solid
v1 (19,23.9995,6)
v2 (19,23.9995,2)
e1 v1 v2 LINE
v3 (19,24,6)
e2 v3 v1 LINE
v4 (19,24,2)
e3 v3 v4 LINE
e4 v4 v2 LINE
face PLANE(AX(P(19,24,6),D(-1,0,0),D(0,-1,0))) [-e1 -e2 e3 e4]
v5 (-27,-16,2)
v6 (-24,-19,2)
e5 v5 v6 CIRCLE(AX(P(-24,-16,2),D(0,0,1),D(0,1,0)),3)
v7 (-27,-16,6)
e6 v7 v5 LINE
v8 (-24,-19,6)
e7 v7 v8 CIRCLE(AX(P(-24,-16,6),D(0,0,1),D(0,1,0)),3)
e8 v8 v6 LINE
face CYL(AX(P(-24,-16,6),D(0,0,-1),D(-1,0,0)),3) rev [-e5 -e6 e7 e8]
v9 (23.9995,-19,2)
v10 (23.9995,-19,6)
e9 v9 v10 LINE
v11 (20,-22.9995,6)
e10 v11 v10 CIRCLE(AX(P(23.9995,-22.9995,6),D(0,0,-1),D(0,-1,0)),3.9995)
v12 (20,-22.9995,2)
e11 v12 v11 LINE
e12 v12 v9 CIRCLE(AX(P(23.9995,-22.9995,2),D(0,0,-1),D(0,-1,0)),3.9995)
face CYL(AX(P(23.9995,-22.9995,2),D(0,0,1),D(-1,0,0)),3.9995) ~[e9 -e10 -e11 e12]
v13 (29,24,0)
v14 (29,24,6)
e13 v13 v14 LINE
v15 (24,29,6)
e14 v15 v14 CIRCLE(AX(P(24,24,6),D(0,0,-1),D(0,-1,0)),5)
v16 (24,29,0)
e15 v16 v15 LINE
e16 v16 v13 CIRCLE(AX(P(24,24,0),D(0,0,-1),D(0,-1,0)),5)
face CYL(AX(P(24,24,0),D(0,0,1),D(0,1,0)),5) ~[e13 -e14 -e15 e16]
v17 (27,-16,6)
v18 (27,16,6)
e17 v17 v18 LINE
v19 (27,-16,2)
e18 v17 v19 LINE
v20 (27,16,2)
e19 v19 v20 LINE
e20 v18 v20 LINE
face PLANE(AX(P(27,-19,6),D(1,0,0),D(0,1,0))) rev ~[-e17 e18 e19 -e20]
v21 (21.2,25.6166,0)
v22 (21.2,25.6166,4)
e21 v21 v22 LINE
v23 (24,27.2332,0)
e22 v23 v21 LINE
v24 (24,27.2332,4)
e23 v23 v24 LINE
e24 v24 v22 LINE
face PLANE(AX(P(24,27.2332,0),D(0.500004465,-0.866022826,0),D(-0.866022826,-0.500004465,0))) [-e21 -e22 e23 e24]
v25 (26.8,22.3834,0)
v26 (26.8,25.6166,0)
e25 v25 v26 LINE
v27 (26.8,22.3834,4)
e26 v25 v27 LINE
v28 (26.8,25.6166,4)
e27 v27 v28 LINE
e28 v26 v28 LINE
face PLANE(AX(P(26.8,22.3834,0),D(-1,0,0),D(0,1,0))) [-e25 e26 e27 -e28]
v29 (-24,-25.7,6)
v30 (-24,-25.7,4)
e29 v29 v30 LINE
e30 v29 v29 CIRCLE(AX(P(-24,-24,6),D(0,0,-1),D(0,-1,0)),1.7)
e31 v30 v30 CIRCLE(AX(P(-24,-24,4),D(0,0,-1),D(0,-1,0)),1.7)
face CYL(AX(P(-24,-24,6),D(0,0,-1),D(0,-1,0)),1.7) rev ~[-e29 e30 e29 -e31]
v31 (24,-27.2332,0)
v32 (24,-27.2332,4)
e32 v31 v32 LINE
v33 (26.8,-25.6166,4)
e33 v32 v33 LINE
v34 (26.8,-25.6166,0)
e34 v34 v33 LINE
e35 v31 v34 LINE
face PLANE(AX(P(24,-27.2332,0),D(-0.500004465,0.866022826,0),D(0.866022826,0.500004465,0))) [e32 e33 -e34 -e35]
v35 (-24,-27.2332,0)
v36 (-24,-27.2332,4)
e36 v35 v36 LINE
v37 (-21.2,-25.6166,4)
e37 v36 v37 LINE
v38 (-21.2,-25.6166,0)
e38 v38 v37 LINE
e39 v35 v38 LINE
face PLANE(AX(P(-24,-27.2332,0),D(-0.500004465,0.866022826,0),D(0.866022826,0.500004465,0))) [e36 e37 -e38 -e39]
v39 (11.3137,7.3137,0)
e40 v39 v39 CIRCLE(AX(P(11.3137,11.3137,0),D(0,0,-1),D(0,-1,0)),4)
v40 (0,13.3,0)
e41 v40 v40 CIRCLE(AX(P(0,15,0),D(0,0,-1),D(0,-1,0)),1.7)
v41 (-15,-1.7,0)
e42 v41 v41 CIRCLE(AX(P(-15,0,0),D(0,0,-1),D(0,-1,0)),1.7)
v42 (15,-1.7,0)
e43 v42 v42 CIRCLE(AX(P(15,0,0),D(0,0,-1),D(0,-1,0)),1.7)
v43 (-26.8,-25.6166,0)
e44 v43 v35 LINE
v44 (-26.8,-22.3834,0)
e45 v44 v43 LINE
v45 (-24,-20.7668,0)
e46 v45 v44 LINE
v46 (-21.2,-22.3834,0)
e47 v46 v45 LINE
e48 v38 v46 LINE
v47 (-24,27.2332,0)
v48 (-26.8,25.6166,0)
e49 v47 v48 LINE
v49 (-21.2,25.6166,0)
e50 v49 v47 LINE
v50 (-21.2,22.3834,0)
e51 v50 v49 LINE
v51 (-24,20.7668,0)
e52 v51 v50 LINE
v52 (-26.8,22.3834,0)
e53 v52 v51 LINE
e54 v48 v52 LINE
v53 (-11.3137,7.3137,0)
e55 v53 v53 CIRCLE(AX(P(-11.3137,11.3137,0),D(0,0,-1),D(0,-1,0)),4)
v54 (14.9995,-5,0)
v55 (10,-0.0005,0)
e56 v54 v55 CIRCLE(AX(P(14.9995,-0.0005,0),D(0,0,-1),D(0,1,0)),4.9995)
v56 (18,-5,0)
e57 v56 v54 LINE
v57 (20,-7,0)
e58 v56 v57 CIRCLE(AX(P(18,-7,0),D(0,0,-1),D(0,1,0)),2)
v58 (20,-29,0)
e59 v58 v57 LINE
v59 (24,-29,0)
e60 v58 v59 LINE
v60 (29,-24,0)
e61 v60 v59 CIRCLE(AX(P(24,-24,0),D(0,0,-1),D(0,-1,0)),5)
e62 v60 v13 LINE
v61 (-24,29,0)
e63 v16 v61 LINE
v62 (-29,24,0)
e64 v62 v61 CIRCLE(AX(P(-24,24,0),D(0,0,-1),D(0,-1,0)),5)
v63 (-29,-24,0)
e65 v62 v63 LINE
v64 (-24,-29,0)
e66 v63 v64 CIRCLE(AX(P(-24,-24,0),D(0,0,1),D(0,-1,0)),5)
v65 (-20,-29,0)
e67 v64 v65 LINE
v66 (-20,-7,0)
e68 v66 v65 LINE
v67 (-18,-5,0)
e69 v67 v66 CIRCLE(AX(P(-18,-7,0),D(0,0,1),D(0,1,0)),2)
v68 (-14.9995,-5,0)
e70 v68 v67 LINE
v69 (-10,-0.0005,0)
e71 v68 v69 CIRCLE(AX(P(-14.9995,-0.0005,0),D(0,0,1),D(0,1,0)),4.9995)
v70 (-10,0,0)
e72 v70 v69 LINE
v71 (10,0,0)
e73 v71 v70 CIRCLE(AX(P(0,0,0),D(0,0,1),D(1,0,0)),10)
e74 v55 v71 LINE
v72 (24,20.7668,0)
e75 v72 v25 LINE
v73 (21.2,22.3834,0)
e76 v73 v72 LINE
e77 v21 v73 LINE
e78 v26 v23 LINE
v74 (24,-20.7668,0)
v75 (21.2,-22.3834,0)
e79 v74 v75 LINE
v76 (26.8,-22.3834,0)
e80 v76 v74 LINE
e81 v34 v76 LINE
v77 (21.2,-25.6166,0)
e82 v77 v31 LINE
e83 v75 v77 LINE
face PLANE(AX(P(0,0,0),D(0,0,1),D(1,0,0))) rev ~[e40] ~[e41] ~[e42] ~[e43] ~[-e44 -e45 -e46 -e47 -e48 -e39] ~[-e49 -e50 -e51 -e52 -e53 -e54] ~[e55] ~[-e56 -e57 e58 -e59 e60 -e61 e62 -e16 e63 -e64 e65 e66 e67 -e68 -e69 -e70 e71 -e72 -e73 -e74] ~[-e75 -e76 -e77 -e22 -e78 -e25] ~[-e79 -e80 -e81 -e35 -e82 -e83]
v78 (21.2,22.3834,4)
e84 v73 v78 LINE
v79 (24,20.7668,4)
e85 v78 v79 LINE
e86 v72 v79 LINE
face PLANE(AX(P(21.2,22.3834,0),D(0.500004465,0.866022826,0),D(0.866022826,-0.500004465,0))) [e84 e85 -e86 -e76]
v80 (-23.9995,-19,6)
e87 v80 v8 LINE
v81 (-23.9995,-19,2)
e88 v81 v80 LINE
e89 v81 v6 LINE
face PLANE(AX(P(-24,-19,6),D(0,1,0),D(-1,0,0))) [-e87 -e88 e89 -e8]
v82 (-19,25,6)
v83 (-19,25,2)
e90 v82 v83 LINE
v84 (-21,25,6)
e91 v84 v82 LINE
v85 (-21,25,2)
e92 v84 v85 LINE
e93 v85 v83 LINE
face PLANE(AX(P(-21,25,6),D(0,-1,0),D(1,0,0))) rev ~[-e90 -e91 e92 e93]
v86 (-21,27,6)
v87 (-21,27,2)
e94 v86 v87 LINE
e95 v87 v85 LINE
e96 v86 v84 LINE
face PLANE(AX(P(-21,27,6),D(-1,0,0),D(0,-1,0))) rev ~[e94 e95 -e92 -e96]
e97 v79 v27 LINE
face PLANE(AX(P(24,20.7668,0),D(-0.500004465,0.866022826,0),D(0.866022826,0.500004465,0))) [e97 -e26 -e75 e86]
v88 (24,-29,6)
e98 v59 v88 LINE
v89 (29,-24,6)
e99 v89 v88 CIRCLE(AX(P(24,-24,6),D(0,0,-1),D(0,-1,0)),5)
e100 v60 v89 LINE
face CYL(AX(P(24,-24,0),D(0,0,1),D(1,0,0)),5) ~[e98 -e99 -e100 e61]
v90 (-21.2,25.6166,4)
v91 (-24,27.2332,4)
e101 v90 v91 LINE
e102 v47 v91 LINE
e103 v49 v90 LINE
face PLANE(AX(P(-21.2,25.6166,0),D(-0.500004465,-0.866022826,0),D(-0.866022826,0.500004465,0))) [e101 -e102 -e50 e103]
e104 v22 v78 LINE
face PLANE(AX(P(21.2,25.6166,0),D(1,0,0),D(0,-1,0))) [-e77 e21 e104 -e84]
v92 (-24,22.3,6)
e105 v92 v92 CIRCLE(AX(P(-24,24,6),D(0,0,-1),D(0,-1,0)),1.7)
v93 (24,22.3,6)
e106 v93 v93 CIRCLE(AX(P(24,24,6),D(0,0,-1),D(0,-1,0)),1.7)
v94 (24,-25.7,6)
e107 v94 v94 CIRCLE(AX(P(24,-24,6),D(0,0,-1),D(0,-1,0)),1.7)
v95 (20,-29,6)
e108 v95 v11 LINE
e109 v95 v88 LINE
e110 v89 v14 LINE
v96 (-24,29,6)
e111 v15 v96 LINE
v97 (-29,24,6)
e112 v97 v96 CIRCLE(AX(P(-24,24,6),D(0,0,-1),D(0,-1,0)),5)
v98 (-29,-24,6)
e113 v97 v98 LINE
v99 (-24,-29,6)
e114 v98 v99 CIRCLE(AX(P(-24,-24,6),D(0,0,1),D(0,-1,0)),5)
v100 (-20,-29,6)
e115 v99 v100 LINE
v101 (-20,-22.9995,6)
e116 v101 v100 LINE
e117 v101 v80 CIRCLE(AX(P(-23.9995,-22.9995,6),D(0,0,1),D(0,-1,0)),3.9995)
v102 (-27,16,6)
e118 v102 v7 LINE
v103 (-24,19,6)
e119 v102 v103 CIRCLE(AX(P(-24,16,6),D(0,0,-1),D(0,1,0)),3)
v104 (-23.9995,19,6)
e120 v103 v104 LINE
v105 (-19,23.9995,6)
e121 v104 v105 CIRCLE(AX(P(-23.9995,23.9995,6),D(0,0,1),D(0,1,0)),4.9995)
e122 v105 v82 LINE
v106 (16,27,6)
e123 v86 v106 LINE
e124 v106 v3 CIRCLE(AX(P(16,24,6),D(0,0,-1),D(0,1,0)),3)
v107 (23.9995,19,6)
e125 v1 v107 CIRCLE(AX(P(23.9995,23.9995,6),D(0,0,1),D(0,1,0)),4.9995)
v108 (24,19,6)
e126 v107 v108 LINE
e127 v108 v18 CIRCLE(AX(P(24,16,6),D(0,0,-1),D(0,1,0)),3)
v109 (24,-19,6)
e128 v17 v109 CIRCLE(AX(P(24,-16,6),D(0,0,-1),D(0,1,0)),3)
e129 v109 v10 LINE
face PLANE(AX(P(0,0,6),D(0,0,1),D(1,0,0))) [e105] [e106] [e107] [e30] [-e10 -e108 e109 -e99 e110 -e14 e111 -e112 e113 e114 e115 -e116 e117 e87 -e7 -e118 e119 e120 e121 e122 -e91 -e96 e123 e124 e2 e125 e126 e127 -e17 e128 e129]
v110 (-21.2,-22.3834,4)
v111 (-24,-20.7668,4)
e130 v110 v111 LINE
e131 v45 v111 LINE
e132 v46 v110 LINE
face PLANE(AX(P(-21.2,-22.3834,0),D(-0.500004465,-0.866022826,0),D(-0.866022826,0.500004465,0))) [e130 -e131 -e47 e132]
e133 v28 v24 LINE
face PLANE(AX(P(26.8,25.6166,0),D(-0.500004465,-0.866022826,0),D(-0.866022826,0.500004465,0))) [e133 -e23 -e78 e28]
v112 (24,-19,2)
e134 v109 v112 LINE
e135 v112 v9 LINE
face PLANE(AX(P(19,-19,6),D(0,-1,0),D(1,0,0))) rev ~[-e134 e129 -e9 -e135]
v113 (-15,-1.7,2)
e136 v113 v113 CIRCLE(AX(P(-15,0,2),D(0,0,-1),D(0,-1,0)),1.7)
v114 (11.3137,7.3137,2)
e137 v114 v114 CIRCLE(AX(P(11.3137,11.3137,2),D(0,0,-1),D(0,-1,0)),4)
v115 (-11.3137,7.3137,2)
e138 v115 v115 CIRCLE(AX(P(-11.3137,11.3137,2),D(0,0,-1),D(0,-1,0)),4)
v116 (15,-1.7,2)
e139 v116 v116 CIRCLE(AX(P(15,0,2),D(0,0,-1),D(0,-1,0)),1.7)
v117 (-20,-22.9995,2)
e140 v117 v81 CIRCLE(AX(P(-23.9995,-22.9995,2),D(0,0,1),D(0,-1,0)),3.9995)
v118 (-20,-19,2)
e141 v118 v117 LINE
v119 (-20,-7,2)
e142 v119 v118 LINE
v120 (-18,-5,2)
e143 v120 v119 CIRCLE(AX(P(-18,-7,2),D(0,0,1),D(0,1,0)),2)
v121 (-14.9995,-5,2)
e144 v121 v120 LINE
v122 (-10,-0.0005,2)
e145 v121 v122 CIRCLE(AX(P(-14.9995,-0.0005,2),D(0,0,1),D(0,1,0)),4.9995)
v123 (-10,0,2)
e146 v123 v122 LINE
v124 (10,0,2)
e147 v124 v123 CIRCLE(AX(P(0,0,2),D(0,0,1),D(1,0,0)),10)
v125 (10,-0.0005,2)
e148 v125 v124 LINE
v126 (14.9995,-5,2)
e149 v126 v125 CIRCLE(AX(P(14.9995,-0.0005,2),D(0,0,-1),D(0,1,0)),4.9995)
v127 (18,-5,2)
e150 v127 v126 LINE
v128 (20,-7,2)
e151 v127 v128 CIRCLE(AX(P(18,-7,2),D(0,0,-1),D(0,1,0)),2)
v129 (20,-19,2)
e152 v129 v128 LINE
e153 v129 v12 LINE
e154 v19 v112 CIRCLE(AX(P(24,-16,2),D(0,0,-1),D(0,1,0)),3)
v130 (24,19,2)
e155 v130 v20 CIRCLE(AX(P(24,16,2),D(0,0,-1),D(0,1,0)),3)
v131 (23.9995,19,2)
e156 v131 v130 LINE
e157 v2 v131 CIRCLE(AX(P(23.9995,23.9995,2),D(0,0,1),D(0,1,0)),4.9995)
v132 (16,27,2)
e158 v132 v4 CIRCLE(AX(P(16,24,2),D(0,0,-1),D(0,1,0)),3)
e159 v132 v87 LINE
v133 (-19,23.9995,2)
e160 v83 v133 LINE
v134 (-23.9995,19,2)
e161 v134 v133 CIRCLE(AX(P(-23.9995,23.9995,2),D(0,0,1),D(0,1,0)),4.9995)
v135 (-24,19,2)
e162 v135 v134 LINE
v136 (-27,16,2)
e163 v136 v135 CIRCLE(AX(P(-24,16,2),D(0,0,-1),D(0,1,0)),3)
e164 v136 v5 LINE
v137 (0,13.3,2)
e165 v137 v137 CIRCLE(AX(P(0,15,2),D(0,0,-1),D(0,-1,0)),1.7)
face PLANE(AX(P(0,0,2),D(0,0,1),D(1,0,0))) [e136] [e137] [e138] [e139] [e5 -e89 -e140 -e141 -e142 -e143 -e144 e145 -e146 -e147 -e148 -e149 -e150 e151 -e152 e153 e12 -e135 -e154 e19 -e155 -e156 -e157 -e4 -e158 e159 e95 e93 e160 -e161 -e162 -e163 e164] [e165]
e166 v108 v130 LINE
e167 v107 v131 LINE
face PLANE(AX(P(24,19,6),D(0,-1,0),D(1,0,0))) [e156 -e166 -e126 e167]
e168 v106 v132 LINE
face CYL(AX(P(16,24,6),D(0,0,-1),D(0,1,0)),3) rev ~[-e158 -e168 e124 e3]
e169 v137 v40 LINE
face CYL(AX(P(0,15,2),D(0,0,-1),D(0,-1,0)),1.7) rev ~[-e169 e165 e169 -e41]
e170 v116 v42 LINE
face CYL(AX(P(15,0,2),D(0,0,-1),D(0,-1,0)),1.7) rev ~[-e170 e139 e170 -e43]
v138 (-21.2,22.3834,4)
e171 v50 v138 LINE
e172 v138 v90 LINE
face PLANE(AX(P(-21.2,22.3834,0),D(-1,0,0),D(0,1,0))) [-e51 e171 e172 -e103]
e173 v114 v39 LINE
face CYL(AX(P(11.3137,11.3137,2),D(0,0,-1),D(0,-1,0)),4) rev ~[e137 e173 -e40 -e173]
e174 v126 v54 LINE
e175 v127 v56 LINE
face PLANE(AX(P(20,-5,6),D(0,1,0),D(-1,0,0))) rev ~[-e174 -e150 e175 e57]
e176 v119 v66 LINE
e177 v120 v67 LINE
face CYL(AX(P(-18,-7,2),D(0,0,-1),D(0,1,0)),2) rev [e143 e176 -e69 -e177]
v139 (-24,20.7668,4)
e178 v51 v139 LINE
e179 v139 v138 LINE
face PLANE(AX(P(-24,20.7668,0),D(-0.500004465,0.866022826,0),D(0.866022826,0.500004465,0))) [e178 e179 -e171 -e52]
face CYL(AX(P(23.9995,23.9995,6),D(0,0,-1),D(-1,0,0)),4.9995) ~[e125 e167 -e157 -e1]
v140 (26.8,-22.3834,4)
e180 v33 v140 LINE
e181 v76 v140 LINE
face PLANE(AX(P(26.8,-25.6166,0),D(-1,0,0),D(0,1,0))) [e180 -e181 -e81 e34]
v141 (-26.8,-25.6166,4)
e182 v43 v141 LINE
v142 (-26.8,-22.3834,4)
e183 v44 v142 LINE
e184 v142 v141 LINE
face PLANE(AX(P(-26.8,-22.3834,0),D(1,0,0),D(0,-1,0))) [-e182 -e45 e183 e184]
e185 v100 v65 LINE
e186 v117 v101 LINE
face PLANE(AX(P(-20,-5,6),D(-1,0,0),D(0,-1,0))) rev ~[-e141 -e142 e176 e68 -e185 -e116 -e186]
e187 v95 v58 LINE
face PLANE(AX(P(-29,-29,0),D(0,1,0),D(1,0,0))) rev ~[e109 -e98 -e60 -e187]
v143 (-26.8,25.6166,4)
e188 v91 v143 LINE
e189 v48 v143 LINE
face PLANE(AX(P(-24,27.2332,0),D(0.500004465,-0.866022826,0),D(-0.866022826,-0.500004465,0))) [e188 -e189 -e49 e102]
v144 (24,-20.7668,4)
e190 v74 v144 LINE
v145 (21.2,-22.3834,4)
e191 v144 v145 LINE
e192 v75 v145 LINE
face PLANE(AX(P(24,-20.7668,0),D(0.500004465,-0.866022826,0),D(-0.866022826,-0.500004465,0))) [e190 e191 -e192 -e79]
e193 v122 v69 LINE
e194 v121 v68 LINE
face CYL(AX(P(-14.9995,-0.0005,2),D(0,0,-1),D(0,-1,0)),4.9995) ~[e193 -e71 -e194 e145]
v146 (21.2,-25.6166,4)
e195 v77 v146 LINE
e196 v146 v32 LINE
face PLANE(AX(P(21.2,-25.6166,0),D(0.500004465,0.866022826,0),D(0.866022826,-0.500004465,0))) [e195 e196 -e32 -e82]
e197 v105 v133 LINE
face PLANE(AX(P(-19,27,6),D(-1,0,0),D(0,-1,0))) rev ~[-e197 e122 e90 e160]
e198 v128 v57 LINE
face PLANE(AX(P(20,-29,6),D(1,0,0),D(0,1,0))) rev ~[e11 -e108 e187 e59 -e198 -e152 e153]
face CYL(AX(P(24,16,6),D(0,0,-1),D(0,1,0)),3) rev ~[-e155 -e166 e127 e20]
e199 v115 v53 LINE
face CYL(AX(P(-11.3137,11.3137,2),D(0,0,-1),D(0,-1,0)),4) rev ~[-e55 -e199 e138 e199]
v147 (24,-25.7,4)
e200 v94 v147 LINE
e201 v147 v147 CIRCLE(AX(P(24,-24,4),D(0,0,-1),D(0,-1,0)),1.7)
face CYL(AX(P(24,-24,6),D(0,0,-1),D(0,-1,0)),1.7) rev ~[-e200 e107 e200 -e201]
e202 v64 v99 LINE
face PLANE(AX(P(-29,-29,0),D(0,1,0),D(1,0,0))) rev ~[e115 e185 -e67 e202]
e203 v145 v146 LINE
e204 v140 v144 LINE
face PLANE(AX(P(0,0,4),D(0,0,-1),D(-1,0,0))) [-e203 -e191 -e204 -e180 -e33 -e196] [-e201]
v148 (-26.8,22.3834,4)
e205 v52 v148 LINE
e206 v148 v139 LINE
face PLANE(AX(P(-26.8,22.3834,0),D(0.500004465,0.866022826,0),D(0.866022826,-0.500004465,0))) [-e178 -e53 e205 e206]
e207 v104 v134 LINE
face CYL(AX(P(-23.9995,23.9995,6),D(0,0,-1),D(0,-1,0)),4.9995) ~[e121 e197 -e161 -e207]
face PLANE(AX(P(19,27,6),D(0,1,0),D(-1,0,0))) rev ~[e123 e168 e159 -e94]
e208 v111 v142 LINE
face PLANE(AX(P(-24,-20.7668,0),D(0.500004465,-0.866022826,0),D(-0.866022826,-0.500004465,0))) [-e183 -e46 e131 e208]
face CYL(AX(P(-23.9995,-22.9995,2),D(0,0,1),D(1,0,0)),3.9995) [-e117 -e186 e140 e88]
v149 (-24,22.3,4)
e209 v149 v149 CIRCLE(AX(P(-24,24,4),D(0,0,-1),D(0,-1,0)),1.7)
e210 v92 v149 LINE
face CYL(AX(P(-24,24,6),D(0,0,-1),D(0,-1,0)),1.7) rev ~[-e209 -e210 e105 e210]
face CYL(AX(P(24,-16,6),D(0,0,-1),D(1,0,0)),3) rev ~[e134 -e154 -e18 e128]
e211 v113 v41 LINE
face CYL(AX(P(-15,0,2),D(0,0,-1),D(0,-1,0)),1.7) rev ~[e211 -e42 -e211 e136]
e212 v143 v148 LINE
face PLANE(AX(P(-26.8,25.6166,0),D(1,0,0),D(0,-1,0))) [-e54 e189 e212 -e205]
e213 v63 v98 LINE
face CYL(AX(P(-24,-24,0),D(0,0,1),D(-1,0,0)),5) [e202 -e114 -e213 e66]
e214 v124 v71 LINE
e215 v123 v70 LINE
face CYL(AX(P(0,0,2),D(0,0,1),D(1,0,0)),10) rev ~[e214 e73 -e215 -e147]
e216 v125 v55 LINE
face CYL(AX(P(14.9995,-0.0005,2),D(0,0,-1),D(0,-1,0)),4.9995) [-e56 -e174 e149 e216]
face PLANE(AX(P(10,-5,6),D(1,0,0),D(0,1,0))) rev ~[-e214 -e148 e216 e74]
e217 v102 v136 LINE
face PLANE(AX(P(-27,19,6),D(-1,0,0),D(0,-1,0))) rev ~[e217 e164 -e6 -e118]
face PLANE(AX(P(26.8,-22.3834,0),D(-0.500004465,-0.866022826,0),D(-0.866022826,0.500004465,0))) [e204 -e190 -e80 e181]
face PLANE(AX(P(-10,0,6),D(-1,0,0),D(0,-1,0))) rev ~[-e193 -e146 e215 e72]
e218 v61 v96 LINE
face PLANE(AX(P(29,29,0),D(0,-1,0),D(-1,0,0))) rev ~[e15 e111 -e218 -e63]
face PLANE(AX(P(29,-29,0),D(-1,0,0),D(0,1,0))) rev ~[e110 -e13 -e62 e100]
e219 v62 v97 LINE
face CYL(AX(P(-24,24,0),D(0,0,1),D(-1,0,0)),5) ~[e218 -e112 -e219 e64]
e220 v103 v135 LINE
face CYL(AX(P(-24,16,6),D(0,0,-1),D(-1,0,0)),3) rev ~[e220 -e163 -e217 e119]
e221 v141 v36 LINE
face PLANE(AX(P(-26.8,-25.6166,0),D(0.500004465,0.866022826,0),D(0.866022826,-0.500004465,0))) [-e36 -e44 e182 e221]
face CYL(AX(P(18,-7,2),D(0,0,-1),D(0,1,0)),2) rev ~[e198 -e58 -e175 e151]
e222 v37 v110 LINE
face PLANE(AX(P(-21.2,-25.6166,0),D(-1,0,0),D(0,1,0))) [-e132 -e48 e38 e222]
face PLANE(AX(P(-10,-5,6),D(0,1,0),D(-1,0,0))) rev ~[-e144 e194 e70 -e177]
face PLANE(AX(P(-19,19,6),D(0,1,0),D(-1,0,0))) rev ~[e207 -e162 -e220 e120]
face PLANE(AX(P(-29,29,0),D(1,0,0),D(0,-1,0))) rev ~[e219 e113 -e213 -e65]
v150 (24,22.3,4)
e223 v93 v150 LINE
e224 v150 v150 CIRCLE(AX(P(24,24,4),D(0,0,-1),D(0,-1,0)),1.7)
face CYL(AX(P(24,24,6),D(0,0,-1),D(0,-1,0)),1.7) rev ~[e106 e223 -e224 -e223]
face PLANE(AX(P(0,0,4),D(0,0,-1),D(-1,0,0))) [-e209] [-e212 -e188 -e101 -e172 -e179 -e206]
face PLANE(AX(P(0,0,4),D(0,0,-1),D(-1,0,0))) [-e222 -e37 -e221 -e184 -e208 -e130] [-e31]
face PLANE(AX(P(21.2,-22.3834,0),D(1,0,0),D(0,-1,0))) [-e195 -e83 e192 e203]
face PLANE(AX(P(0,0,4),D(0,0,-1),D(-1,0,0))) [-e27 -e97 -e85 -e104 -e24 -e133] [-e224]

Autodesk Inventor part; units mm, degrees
ref_plane "YZ Plane" through (0, 0, 0) normal (1, 0, 0) x (0, 1, 0)
ref_plane "XZ Plane" through (0, 0, 0) normal (0, 1, 0) x (-1, 0, 0)
ref_plane "XY Plane" through (0, 0, 0) normal (0, 0, 1) x (1, 0, 0)
sketch "スケッチ1" plane through (0, 0, 0) normal (0, 0, 1) x (1, 0, 0)
  line L0 (-29, -29) -> (29, -29)
  line L1 (29, -29) -> (29, 29)
  line L2 (29, 29) -> (-29, 29)
  line L3 (-29, 29) -> (-29, -29)
  line L4 (-29, -29) -> (29, 29) construction
  line L5 (29, -29) -> (-29, 29) construction
  point P0 (0, 0)
  dimension "d0" = 58
  dimension "d1" = 58
extrude "押し出し1" add sketch "スケッチ1" along normal blind 6
fillet "フィレット1" radius 5 4 edges at (-29, 29, 3) (29, 29, 3) (29, -29, 3) (-29, -29, 3)
sketch "スケッチ4" plane through (0, 0, 6) normal (0, 0, 1) x (1, 0, 0)
  arc A0 (-29, -24) -> (-24, -29) centre (-24, -24) ccw projected
  line L0 (-24, -29) -> (24, -29) projected
  arc A1 (24, -29) -> (29, -24) centre (24, -24) ccw projected
  line L1 (29, -24) -> (29, 24) projected
  arc A2 (29, 24) -> (24, 29) centre (24, 24) ccw projected
  line L2 (24, 29) -> (-24, 29) projected
  arc A3 (-24, 29) -> (-29, 24) centre (-24, 24) ccw projected
  line L3 (-29, 24) -> (-29, -24) projected
  line L4 (-27, -27) -> (27, -27)
  line L5 (27, -27) -> (27, 27)
  line L6 (27, 27) -> (-27, 27)
  line L7 (-27, 27) -> (-27, -27)
  line L8 (-27, -27) -> (27, 27) construction
  line L9 (27, -27) -> (-27, 27) construction
  line L10 (-24, -24) -> (24, -24) construction
  line L11 (24, -24) -> (24, 24) construction
  line L12 (24, 24) -> (-24, 24) construction
  line L13 (-24, 24) -> (-24, -24) construction
  line L14 (-24, -24) -> (24, 24) construction
  line L15 (24, -24) -> (-24, 24) construction
  line L16 (24, 29) -> (-24, 29) projected
  circle A4 centre (-24, 24) radius 5
  circle A5 centre (24, 24) radius 5
  arc A6 (24, -29) -> (29, -24) centre (24, -24) ccw projected
  circle A7 centre (24, -24) radius 5
  line L17 (-24, -29) -> (24, -29) projected
  circle A8 centre (-24, -24) radius 5
  line L18 (-29, 29) -> (-19, 29)
  line L19 (-19, 29) -> (-19, 19)
  line L20 (-19, 19) -> (-29, 19)
  line L21 (-29, 19) -> (-29, 29)
  line L22 (-29, 29) -> (-19, 19) construction
  line L23 (-19, 29) -> (-29, 19) construction
  line L24 (29, 29) -> (19, 29)
  line L25 (19, 29) -> (19, 19)
  line L26 (19, 19) -> (29, 19)
  line L27 (29, 19) -> (29, 29)
  line L28 (29, 29) -> (19, 19) construction
  line L29 (19, 29) -> (29, 19) construction
  line L30 (29, -29) -> (19, -29)
  line L31 (19, -29) -> (19, -19)
  line L32 (19, -19) -> (29, -19)
  line L33 (29, -19) -> (29, -29)
  line L34 (29, -29) -> (19, -19) construction
  line L35 (19, -29) -> (29, -19) construction
  line L36 (-29, -29) -> (-19, -29)
  line L37 (-19, -29) -> (-19, -19)
  line L38 (-19, -19) -> (-29, -19)
  line L39 (-29, -19) -> (-29, -29)
  line L40 (-29, -29) -> (-19, -19) construction
  line L41 (-19, -29) -> (-29, -19) construction
  point P0 (0, 0)
  point P1 (-20, -27)
  point P2 (20, -27)
  point P3 (27, -20)
  point P4 (27, 20)
  point P5 (20, 27)
  point P6 (-20, 27)
  point P7 (-27, 20)
  point P8 (-27, -20)
  point P9 (-19, -24)
  point P10 (-19, -27)
  point P11 (19, -27)
  point P12 (19, -24)
  point P13 (24, -19)
  point P14 (27, -19)
  point P15 (27, 19)
  point P16 (24, 19)
  point P17 (19, 24)
  point P18 (19, 27)
  point P19 (-19, 27)
  point P20 (-19, 24)
  point P21 (-24, 19)
  point P22 (-27, 19)
  point P23 (-27, -19)
  point P24 (-24, -19)
  dimension "d77" = 54
  dimension "d78" = 54
  dimension "d79" = 48
  dimension "d80" = 48
  dimension "d81" = 10
  dimension "d82" = 10
  dimension "d83" = 10
  dimension "d84" = 10
  dimension "d85" = 10
  dimension "d86" = 10
  dimension "d87" = 10
  dimension "d88" = 10
  dimension "d89" = 10
  dimension "d90" = 10
  dimension "d91" = 10
  dimension "d92" = 10
extrude "押し出し2" cut sketch "スケッチ4" against normal blind 4 contours L7 L20 L19 L6 L25 L26 L5 L32 L31 L4 L37 L38
sketch "スケッチ5" plane through (0, 0, 2) normal (0, 0, 1) x (1, 0, 0)
  circle A0 centre (0, 0) radius 16
  point P0 (-11.3137, 11.3137)
  point P1 (-11.3137, -11.3137)
  point P2 (11.3137, -11.3137)
  point P3 (11.3137, 11.3137)
  dimension "d18" = 32
  dimension "d21" = 360
  dimension "d58" = 0
hole "穴2" at (-11.3137, 11.3137, 2) at (-11.3137, -11.3137, 2) at (11.3137, -11.3137, 2) at (11.3137, 11.3137, 2) direction (0, 0, -1) diameter 4.5 depth 11.8 tip angle 118 counterbore diameter 8 counterbore depth 4 clearance for "Socket Head Cap Screw" size "M4" standard "Ansi Metric M Profile"
sketch "スケッチ6" plane through (0, 0, 2) normal (0, 0, 1) x (1, 0, 0)
  circle A0 centre (0, 0) radius 15
  point P0 (0, 15)
  point P1 (-15, 0)
  point P2 (0, -15)
  point P3 (15, 0)
  dimension "d30" = 30
  dimension "d33" = 360
  dimension "d59" = 0
hole "穴3" at (15, 0, 2) at (0, 15, 2) at (-15, 0, 2) direction (0, 0, -1) diameter 3.4 depth 11.8 tip angle 118 clearance for "Socket Head Cap Screw" size "M3" standard "Ansi Metric M Profile"
fillet "フィレット5" radius 3 8 edges at (-27, 19, 4) (-19, 27, 4) (19, 27, 4) (27, 19, 4) (27, -19, 4) (19, -27, 4) (-19, -27, 4) (-27, -19, 4)
sketch "スケッチ7" plane through (0, 0, 2) normal (0, 0, 1) x (1, 0, 0)
  circle A0 centre (0, 0) radius 10
  dimension "d42" = 20
extrude "押し出し3" cut sketch "スケッチ7" against normal through all
sketch "スケッチ8" plane through (0, 0, 6) normal (0, 0, 1) x (1, 0, 0)
  line L0 (24, -24) -> (-24, -24)
  line L1 (-24, -24) -> (-24, 24)
  line L2 (-24, 24) -> (24, 24)
  line L3 (24, 24) -> (24, -24)
  line L4 (24, -24) -> (-24, 24) construction
  line L5 (-24, -24) -> (24, 24) construction
  point P0 (0, 0)
  dimension "d45" = 48
  dimension "d46" = 48
hole "穴4" at (-24, 24, 6) at (-24, -24, 6) at (24, -24, 6) at (24, 24, 6) direction (0, 0, -1) diameter 3.4 depth 6 tip angle 118 clearance for "Flat Head Machine Screw" size "M3" standard "Ansi Metric M Profile"
sketch "スケッチ9" plane through (0, 0, 6) normal (0, 0, 1) x (1, 0, 0)
  line L0 (-20, -29) -> (20, -29)
  line L1 (20, -29) -> (20, -5)
  line L2 (20, -5) -> (-20, -5)
  line L3 (-20, -5) -> (-20, -29)
  line L4 (-20, -29) -> (20, -5) construction
  line L5 (20, -29) -> (-20, -5) construction
  line L6 (-24, -29) -> (24, -29) projected
  circle A0 centre (11.3137, -11.3137) radius 4 projected
  line L7 (10, 5) -> (-10, 5)
  line L8 (-10, 5) -> (-10, -5)
  line L9 (-10, -5) -> (10, -5)
  line L10 (10, -5) -> (10, 5)
  line L11 (10, 5) -> (-10, -5) construction
  line L12 (-10, 5) -> (10, -5) construction
  circle A1 centre (0, 0) radius 10 projected
  line L13 (-10, 0) -> (10, 0)
  point P0 (0, -17)
  point P1 (0, -17)
  point P2 (8.6603, -5)
  point P3 (-8.6603, -5)
  point P4 (-15, 0)
  dimension "d54" = 40
  dimension "d64" = 5
extrude "押し出し4" cut sketch "スケッチ9" against normal through all contours L3 L2 A1 L1 L0 | L8 A1 L2 | L2 A1 L10 | L2 A1 | A0
fillet "フィレット7" radius 5 2 edges at (-10, -5, 1) (10, -5, 1)
fillet "フィレット8" radius 2 2 edges at (-20, -5, 1) (20, -5, 1)
sketch "スケッチ11" plane through (0, 0, 0) normal (0, 0, -1) x (-1, 0, 0)
  circle A0 centre (24, 24) radius 1.7 projected
  circle A1 centre (24, -24) radius 1.7 projected
  circle A2 centre (-24, 24) radius 1.7 projected
  circle A3 centre (-24, -24) radius 1.7 projected
  line L0 (26.8, 25.6166) -> (26.8, 22.3834)
  line L1 (26.8, 22.3834) -> (24, 20.7668)
  line L2 (24, 20.7668) -> (21.2, 22.3834)
  line L3 (21.2, 22.3834) -> (21.2, 25.6166)
  line L4 (21.2, 25.6166) -> (24, 27.2332)
  line L5 (24, 27.2332) -> (26.8, 25.6166)
  line L6 (-24, 29) -> (24, 29) projected
  line L7 (21.2, -25.6166) -> (21.2, -22.3834)
  line L8 (21.2, -22.3834) -> (24, -20.7668)
  line L9 (24, -20.7668) -> (26.8, -22.3834)
  line L10 (26.8, -22.3834) -> (26.8, -25.6166)
  line L11 (26.8, -25.6166) -> (24, -27.2332)
  line L12 (24, -27.2332) -> (21.2, -25.6166)
  line L13 (-21.2, 25.6166) -> (-21.2, 22.3834)
  line L14 (-21.2, 22.3834) -> (-24, 20.7668)
  line L15 (-24, 20.7668) -> (-26.8, 22.3834)
  line L16 (-26.8, 22.3834) -> (-26.8, 25.6166)
  line L17 (-26.8, 25.6166) -> (-24, 27.2332)
  line L18 (-24, 27.2332) -> (-21.2, 25.6166)
  line L19 (24, -29) -> (20, -29) projected
  line L20 (-21.2, -22.3834) -> (-21.2, -25.6166)
  line L21 (-21.2, -25.6166) -> (-24, -27.2332)
  line L22 (-24, -27.2332) -> (-26.8, -25.6166)
  line L23 (-26.8, -25.6166) -> (-26.8, -22.3834)
  line L24 (-26.8, -22.3834) -> (-24, -20.7668)
  line L25 (-24, -20.7668) -> (-21.2, -22.3834)
  arc A4 (-29, -24) -> (-24, -29) centre (-24, -24) ccw projected
  line L26 (-20, -29) -> (-24, -29) projected
  line L27 (-29, -24) -> (-24, -29)
  point P0 (0, 0)
  point P1 (-25.8144, -26.1856)
  point P2 (-26.8, -25.2)
  dimension "d31" = 4
  dimension "d67" = 5.6
  dimension "d68" = 30
  dimension "d69" = 5.6
  dimension "d70" = 30
  dimension "d71" = 30
  dimension "d72" = 5.6
  dimension "d73" = 15
  dimension "d74" = 5.6
extrude "押し出し5" cut sketch "スケッチ11" against normal blind 4 contours A0 | A1 | A2 | A3 | L0 L1 L2 L3 L4 L5 | L7 L8 L9 L10 L11 L12 | L13 L14 L15 L16 L17 L18 | L20 L21 L22 L23 L24 L25
sketch "スケッチ12" plane through (0, 0, 6) normal (0, 0, 1) x (1, 0, 0)
  line L0 (-21, 25) -> (-3.9723, 25)
  line L1 (-3.9723, 25) -> (-3.9723, 27)
  line L2 (-3.9723, 27) -> (-21, 27)
  line L3 (-21, 27) -> (-21, 25)
  line L4 (-21, 25) -> (-3.9723, 27) construction
  line L5 (-3.9723, 25) -> (-21, 27) construction
  line L6 (24, 29) -> (-24, 29) projected
  line L7 (29, -24) -> (29, 24) projected
  line L8 (-29, 24) -> (-29, -24) projected
  line L9 (-19, 19) -> (-19, 24) projected
  line L10 (-19, 24) -> (-17.5063, 24)
  line L11 (-17.5063, 24) -> (-17.5063, 25)
  line L12 (-17.5063, 25) -> (-19, 25)
  line L13 (-19, 25) -> (-19, 24)
  point P0 (0, 0)
  point P1 (-12.4862, 26)
  point P2 (29, -19)
  dimension "d93" = 3
  dimension "d98" = 8
  dimension "d99" = 2
extrude "押し出し6" cut sketch "スケッチ12" against normal up to surface (4 mm away)
fillet "フィレット9" radius 4 2 edges at (-20, -19, 4) (20, -19, 4)
fillet "フィレット10" radius 5 2 edges at (19, 19, 4) (-19, 19, 4)
equation "\"d0\" = d1"
equation "\"d78\" = d77"
equation "\"d81\" = d89"
equation "\"d82\" = d89"
equation "\"d83\" = d90"
equation "\"d84\" = d90"
equation "\"d85\" = d92"
equation "\"d86\" = d92"
equation "\"d87\" = d91"
equation "\"d88\" = d91"
equation "\"d89\" = d90"
equation "\"d91\" = d89"
equation "\"d92\" = d91"
properties part number "base47" material "ABS プラスチック"
